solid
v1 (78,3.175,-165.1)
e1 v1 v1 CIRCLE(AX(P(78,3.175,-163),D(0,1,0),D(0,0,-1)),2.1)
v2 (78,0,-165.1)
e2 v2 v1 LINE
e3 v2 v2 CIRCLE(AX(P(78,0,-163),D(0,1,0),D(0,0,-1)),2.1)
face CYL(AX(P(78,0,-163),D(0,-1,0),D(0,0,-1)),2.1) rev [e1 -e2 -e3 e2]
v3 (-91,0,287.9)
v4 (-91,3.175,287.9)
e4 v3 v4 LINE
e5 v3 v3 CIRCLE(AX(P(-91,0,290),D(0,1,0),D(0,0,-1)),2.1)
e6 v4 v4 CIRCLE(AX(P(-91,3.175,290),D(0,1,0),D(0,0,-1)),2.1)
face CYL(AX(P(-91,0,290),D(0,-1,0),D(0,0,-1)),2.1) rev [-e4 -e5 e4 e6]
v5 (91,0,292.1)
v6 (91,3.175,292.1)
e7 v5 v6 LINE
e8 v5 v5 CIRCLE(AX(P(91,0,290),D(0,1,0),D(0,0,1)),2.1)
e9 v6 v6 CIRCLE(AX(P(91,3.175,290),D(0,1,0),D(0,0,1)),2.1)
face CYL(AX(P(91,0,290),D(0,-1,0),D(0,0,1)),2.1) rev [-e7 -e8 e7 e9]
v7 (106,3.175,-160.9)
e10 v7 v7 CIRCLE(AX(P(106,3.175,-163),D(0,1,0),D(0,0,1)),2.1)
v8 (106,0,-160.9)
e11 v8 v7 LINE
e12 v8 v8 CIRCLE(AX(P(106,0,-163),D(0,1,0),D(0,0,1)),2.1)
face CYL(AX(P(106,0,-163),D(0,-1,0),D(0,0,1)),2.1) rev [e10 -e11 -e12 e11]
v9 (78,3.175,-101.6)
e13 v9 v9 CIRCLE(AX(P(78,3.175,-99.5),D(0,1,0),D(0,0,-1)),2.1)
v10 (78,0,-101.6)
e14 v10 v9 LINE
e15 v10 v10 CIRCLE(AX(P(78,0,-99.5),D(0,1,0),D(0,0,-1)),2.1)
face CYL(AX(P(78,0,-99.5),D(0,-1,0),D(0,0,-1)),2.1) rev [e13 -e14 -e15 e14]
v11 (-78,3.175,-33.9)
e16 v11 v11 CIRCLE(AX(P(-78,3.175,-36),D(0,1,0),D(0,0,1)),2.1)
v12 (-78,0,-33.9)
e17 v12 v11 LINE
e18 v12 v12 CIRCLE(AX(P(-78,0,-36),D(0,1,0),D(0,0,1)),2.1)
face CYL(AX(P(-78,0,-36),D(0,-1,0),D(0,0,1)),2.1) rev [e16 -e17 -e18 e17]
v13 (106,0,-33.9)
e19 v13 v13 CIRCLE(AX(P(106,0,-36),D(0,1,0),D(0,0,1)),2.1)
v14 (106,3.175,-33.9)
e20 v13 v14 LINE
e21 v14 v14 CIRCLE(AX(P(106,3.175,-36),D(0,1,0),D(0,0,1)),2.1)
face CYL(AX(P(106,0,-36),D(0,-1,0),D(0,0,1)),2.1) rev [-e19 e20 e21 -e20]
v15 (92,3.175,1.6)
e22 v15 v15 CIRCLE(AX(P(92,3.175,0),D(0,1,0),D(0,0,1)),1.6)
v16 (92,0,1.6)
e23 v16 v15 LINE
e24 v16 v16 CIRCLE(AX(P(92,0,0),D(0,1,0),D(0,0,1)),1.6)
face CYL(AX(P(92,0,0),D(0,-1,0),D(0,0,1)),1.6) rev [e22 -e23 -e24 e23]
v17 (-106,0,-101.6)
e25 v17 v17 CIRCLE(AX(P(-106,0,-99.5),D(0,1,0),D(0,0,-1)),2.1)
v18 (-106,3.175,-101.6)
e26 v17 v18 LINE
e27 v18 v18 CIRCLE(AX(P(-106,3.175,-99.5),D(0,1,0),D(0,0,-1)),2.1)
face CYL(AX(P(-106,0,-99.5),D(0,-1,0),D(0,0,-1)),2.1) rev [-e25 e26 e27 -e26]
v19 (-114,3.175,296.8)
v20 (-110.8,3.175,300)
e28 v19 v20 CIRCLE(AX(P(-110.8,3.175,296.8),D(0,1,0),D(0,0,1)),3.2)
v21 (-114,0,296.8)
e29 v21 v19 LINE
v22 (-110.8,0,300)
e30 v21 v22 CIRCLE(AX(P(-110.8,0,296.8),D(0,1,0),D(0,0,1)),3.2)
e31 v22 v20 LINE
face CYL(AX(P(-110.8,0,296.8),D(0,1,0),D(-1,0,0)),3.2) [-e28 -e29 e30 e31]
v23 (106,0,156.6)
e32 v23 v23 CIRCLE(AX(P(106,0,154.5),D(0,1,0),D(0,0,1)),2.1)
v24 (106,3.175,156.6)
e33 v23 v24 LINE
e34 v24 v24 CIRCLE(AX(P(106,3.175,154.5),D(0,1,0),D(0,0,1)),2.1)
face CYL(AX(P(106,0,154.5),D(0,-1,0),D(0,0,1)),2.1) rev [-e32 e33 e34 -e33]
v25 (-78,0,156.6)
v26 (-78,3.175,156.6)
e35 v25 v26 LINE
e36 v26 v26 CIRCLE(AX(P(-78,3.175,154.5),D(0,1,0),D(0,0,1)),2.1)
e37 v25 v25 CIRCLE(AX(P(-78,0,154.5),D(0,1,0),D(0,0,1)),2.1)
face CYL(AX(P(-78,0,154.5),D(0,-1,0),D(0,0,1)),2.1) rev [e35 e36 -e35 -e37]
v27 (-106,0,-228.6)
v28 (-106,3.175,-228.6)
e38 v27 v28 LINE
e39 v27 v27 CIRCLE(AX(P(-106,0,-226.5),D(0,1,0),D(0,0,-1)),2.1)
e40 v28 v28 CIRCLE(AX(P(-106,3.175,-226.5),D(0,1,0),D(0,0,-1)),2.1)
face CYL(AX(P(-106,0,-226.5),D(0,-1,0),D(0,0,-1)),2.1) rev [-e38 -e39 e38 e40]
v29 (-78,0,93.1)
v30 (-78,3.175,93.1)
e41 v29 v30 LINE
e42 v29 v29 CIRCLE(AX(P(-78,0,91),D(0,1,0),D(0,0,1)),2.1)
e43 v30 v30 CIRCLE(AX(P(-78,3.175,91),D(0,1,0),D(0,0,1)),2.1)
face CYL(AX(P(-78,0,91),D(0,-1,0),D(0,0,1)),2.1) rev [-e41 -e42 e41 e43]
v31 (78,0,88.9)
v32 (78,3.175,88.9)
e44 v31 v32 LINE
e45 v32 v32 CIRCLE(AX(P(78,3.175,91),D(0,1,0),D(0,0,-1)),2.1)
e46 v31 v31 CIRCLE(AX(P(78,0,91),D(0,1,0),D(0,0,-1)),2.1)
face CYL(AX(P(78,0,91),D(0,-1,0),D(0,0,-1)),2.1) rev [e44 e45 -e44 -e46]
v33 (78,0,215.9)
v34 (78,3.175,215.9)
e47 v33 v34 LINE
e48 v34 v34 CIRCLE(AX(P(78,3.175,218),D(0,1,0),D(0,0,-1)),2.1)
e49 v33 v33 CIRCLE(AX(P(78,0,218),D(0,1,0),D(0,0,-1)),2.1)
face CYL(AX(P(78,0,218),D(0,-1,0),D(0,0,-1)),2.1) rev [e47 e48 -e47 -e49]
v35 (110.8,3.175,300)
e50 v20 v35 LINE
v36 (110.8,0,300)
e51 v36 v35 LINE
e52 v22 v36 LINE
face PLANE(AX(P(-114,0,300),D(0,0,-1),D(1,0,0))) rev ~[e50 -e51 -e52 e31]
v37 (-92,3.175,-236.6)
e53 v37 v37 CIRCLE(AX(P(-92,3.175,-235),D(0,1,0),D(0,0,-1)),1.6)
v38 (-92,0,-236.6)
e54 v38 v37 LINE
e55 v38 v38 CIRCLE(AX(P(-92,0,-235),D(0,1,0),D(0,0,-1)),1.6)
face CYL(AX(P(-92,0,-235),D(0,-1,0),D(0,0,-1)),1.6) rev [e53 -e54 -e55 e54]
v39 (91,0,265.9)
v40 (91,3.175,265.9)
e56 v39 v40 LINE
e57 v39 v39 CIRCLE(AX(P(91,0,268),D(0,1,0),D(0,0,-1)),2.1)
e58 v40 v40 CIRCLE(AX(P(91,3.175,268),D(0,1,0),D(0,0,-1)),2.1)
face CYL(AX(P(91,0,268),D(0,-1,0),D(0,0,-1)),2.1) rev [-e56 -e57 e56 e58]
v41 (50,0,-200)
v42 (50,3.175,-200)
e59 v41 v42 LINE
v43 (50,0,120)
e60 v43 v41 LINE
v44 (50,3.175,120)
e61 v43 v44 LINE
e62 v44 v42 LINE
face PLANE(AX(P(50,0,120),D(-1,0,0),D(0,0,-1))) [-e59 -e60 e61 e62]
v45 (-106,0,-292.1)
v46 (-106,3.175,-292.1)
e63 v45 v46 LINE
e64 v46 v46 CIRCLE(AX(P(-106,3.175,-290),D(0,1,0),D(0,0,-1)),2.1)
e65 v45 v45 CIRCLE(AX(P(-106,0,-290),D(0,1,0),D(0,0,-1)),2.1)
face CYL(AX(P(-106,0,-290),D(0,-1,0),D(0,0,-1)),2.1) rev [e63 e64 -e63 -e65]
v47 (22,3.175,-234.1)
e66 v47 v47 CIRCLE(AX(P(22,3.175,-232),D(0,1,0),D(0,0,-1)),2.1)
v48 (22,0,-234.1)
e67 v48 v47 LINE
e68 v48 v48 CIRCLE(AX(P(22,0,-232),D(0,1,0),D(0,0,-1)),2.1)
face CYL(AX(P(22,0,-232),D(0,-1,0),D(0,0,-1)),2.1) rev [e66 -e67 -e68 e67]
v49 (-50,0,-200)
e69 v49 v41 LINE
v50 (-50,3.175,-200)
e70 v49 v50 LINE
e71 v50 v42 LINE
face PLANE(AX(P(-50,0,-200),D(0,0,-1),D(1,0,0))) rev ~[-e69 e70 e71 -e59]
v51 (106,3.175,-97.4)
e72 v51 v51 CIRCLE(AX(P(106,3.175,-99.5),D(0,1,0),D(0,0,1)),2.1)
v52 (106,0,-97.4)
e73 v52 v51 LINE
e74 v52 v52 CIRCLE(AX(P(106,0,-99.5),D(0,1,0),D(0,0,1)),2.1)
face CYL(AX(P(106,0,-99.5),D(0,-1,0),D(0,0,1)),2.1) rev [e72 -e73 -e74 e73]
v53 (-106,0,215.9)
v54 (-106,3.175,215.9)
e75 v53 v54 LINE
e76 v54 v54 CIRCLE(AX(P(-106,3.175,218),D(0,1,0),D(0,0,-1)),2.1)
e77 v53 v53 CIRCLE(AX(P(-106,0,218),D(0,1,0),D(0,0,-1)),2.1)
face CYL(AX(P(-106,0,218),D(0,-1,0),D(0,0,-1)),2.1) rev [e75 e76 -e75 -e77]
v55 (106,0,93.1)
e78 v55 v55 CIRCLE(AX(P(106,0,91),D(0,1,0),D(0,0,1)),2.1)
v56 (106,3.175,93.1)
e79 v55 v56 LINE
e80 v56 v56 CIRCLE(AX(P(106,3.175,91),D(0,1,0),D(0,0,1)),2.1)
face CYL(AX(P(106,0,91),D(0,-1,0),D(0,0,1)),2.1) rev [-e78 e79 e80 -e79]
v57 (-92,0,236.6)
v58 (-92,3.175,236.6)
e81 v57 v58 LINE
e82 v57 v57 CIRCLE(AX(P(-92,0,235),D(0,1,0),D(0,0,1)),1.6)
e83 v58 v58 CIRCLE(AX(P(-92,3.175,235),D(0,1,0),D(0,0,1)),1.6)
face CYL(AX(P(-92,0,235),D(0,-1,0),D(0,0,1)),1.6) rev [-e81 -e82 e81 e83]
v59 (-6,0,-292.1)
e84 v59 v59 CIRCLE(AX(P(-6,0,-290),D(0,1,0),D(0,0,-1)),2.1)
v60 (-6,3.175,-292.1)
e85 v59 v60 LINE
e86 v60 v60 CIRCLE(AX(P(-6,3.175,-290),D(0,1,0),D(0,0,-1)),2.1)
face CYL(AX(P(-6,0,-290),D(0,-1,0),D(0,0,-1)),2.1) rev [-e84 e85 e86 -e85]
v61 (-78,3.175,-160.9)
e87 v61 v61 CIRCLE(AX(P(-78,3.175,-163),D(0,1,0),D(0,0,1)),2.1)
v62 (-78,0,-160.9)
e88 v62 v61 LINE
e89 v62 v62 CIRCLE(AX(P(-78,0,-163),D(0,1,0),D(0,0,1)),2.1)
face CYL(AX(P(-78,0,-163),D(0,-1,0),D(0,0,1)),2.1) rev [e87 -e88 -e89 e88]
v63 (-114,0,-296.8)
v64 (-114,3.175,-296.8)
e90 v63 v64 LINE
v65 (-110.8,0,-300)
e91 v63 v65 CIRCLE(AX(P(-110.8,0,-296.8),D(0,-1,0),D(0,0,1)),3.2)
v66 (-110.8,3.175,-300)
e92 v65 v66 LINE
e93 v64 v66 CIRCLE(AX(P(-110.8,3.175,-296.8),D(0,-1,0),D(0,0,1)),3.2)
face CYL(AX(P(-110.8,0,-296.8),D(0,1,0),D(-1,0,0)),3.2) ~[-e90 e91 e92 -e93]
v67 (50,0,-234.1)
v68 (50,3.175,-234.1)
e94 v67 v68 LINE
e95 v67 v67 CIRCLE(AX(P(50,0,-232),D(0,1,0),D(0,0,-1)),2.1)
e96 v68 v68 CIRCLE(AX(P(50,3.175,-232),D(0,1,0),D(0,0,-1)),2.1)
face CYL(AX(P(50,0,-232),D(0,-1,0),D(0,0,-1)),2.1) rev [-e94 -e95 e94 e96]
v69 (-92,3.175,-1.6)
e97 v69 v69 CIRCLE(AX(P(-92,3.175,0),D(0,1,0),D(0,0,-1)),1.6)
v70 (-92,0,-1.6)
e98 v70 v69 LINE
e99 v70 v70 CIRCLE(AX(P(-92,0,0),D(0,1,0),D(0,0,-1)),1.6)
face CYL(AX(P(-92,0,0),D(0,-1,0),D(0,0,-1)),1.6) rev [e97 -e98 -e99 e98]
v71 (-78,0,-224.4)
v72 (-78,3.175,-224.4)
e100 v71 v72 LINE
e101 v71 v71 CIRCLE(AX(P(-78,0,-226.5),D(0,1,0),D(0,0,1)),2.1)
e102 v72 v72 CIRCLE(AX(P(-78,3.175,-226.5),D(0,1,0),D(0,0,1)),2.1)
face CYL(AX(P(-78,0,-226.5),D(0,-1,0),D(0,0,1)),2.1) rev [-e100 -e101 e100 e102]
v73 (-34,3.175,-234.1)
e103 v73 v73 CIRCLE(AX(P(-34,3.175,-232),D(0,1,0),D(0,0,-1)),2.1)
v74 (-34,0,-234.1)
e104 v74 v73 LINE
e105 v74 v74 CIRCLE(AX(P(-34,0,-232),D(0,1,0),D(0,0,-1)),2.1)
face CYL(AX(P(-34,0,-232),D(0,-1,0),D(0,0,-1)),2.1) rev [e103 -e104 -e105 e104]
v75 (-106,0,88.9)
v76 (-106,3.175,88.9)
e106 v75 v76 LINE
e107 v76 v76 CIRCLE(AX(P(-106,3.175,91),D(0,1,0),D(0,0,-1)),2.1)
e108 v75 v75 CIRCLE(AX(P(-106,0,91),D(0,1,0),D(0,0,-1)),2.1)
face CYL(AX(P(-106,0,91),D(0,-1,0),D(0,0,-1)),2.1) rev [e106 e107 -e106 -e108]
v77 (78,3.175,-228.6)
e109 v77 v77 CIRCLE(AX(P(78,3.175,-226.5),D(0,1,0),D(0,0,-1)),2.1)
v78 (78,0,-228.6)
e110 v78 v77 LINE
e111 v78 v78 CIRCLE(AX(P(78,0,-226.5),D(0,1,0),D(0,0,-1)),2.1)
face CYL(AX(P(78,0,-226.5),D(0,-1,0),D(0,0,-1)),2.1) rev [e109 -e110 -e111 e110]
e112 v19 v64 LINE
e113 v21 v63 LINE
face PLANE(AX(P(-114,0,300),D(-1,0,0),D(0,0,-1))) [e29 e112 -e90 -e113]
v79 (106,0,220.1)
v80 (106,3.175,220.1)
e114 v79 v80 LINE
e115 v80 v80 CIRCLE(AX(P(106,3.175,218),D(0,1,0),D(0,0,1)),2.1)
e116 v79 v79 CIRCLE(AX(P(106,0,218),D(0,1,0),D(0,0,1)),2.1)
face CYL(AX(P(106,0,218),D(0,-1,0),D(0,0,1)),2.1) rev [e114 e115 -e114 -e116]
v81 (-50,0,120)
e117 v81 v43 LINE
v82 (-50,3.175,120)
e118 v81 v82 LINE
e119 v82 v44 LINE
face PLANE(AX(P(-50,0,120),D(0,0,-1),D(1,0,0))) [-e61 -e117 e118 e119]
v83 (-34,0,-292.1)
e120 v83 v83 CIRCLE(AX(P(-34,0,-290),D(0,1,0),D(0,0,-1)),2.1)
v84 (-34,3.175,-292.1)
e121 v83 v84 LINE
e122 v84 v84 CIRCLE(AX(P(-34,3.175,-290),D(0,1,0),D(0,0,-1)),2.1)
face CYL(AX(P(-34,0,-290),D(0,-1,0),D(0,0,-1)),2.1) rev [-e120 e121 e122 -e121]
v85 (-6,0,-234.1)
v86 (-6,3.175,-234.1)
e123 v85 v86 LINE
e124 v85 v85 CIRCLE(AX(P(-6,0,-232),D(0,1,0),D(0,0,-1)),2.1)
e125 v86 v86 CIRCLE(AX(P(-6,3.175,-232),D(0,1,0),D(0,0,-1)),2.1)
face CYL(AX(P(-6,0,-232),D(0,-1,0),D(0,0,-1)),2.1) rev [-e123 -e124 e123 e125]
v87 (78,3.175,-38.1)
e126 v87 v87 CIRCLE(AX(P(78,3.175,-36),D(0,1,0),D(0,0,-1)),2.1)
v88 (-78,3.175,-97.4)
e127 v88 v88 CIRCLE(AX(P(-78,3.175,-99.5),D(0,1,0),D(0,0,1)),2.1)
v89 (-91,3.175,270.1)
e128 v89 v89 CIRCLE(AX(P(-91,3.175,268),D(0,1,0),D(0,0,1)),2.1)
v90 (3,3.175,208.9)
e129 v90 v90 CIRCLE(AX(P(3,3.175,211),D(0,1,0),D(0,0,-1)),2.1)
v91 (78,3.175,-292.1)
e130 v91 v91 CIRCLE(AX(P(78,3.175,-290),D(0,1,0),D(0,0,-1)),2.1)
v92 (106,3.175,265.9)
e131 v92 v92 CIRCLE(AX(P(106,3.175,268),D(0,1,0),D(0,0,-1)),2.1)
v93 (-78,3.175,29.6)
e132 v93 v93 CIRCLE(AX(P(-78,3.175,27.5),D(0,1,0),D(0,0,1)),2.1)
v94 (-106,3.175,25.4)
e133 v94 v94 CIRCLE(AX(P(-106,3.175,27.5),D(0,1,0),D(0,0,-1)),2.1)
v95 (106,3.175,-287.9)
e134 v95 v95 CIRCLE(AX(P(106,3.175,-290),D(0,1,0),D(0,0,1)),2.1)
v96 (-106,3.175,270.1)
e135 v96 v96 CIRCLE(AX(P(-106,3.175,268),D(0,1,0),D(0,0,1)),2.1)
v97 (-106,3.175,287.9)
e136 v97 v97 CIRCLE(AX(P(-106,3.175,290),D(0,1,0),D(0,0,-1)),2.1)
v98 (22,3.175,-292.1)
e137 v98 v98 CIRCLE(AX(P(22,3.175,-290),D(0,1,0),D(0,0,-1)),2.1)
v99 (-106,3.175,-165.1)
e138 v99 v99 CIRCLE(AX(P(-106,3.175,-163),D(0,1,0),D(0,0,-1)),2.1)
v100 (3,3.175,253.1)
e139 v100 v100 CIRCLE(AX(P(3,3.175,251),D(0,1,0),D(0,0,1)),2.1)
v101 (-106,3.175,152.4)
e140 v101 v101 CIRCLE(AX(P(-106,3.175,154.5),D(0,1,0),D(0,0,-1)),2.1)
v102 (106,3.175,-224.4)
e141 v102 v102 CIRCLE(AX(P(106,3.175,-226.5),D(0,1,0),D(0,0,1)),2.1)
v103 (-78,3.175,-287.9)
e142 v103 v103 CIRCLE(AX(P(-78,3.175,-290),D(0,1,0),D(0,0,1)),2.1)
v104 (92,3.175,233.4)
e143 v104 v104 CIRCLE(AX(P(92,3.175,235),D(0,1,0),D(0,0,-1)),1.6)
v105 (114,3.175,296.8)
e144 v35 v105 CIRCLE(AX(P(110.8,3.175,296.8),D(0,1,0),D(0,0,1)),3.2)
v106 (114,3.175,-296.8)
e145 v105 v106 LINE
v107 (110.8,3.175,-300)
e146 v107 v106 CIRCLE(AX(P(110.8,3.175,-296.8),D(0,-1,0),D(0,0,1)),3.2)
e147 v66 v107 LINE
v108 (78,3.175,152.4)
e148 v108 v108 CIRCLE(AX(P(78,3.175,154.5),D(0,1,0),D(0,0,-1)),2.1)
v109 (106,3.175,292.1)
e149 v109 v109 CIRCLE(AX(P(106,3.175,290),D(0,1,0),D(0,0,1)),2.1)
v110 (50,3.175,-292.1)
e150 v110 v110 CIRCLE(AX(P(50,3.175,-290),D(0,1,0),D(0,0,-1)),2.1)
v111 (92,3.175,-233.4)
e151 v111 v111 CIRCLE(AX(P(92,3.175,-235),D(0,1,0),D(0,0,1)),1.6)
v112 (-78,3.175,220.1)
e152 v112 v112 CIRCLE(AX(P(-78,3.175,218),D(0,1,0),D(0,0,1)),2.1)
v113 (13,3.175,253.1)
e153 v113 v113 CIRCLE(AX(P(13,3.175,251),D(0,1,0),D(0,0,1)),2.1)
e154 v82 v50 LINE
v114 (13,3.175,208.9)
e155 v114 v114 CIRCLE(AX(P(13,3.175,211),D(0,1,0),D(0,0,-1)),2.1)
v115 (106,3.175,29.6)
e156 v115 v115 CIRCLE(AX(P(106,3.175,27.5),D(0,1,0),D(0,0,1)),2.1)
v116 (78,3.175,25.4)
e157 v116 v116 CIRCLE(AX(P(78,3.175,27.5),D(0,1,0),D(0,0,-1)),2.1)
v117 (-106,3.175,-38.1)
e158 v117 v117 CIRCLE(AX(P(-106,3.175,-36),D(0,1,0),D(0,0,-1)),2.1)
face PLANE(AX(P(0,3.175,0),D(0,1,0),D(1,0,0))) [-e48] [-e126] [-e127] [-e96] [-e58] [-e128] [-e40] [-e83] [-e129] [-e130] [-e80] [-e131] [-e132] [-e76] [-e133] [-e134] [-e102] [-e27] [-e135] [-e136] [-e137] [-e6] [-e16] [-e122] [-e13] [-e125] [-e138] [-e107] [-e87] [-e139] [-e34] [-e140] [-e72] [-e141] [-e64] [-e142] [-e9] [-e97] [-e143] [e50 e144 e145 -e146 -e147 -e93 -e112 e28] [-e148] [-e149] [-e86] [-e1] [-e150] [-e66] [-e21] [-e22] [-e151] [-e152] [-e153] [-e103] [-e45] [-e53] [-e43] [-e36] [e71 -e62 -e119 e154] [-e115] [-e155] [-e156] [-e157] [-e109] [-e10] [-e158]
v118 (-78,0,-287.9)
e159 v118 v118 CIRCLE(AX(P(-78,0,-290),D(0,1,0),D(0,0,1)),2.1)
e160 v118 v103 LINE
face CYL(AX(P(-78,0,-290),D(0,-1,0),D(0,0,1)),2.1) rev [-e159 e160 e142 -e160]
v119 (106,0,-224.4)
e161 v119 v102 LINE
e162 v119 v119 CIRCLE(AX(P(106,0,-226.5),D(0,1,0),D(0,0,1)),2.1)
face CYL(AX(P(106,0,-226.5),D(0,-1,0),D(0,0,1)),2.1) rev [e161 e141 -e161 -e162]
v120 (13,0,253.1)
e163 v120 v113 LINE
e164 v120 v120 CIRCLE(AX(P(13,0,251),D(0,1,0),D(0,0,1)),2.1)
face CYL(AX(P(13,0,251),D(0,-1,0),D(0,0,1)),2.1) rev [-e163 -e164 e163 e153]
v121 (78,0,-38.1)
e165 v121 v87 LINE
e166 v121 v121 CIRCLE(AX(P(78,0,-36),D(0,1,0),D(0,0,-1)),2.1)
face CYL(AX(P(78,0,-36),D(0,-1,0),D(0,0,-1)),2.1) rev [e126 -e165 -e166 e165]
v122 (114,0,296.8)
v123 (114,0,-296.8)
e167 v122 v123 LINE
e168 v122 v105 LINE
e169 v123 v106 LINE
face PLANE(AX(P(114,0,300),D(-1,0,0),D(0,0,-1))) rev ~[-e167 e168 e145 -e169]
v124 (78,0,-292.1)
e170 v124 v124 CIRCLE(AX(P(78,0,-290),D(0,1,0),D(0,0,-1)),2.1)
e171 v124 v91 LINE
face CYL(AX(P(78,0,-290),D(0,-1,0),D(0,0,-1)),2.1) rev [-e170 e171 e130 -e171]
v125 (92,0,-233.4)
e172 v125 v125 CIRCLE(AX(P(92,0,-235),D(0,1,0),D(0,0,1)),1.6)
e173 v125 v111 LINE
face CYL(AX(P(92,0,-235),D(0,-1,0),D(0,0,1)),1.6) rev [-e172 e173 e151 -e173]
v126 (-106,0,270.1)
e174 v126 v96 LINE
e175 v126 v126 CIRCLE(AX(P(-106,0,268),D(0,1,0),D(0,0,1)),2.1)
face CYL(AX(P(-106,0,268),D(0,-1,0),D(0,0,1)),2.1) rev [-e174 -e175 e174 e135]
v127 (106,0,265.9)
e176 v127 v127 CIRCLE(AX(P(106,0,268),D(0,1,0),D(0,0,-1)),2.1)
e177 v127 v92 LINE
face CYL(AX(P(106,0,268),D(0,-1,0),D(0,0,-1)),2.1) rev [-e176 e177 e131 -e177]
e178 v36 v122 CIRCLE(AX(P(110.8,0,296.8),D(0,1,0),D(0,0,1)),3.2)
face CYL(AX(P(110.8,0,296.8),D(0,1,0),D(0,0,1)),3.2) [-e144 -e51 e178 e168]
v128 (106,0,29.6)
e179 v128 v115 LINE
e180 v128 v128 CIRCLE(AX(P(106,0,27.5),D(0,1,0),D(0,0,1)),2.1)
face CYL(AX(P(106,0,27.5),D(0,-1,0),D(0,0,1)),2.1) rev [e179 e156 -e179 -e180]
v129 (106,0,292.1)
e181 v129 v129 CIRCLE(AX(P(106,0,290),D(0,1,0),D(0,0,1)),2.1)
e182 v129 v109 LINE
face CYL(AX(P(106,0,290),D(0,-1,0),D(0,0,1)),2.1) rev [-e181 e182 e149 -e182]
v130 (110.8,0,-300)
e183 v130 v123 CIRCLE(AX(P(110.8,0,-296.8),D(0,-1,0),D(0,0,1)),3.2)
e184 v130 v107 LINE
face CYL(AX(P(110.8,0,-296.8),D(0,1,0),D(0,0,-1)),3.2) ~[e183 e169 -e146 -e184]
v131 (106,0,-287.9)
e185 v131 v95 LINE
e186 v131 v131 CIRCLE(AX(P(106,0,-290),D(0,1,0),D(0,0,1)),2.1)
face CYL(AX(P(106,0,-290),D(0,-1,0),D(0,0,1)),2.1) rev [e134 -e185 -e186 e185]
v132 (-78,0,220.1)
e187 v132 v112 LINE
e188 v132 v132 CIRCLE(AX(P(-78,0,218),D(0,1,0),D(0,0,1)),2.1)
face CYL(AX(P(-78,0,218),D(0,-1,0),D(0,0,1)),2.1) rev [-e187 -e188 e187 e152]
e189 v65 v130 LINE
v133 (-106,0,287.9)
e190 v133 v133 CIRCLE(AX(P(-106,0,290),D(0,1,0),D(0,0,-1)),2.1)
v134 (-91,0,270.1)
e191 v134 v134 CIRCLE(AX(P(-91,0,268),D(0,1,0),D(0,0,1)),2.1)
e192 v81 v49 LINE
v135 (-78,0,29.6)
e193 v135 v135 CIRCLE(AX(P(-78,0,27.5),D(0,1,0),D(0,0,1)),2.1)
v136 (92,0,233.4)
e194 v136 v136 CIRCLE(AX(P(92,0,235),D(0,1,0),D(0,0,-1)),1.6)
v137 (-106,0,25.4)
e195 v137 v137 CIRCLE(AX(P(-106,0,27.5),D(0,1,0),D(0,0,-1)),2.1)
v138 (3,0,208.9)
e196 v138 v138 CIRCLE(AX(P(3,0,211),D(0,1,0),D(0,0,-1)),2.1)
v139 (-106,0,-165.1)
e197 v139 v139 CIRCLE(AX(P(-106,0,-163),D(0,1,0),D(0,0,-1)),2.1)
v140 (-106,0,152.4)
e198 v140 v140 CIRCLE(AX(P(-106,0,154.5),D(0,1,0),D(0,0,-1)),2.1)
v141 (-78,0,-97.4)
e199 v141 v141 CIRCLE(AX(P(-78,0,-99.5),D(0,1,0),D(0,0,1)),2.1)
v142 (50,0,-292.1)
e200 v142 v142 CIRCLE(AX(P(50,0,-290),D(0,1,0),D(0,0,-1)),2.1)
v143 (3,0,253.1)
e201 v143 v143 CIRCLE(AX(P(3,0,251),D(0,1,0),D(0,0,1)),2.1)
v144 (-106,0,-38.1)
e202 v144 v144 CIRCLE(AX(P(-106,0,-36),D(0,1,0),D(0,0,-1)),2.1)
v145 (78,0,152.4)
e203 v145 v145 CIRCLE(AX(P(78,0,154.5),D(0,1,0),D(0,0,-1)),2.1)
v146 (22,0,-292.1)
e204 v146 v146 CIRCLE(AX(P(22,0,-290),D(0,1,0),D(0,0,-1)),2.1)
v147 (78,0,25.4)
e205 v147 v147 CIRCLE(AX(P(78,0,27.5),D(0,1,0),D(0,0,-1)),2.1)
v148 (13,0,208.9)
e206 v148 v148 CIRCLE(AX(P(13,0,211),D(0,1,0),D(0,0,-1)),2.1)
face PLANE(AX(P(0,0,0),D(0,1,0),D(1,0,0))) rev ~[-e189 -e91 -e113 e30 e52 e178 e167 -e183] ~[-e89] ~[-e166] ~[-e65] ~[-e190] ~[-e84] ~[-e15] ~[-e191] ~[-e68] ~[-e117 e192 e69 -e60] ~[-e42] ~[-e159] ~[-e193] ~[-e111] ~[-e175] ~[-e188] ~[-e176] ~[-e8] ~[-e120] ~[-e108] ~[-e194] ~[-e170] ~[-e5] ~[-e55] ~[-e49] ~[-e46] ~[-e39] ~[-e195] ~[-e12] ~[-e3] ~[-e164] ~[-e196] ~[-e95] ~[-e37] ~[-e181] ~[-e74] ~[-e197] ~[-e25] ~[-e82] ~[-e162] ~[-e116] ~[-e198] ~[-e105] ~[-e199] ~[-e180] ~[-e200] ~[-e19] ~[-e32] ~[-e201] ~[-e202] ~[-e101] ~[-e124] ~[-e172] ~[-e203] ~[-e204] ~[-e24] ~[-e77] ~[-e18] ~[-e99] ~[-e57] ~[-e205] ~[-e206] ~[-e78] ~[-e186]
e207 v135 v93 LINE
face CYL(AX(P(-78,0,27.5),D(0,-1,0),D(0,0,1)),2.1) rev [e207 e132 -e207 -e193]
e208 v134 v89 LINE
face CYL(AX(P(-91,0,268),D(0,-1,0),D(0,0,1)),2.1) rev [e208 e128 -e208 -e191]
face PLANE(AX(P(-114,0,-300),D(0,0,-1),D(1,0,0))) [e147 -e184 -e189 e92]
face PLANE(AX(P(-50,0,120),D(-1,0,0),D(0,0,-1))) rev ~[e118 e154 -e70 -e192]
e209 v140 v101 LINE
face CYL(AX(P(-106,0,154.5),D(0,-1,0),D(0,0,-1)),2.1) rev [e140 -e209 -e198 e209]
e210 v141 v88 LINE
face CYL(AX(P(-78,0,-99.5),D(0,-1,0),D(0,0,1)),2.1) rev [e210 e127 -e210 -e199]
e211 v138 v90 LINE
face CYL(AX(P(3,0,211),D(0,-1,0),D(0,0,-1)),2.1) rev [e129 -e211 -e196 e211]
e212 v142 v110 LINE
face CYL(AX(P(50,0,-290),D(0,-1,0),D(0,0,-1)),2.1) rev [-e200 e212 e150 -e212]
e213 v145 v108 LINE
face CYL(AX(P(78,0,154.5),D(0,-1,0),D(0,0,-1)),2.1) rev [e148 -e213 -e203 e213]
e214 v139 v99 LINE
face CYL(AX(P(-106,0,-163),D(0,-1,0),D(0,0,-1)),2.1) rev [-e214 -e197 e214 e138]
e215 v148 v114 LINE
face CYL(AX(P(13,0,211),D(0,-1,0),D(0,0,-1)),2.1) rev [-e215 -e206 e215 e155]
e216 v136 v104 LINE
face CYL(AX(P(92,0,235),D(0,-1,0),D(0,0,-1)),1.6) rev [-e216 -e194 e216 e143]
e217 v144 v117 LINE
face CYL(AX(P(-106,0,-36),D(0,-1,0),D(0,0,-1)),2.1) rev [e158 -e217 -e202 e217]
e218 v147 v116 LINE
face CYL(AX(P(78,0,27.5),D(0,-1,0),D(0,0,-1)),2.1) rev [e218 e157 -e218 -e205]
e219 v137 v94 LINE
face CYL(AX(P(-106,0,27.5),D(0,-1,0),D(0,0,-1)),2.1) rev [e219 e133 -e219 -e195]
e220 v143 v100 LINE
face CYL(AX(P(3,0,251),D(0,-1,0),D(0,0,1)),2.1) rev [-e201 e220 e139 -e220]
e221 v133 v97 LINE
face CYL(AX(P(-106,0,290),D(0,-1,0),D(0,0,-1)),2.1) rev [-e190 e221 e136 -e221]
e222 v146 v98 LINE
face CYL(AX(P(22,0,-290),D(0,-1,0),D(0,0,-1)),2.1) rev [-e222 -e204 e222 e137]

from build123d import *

# Parameters (mm, degrees)
SKETCH1_W           = 228
SKETCH1_H           = 600
SKETCH1_R           = 2.1
SKETCH1_R_2         = 1.6
SKETCH1_W_2         = 100
SKETCH1_H_2         = 320
BOSS_EXTRUDE1_DEPTH = 3.175
FILLET1_R           = 3.2


with BuildPart() as part:
    # Sketch1 → Boss-Extrude1 (new body)
    with BuildSketch(Plane(origin=(0, 0, 0), x_dir=(1, 0, 0), z_dir=(0, 1, 0))):
        Rectangle(SKETCH1_W, SKETCH1_H)
        with Locations(Location((106, 290, 0), (0, 0, 270))):
            Circle(SKETCH1_R, mode=Mode.SUBTRACT)
        with Locations(Location((106, -290, 0), (0, 0, 270))):
            Circle(SKETCH1_R, mode=Mode.SUBTRACT)
        with Locations(Location((78, 290, 0), (0, 0, 90))):
            Circle(SKETCH1_R, mode=Mode.SUBTRACT)
        with Locations(Location((92, 0, 0), (0, 0, 270))):
            Circle(SKETCH1_R_2, mode=Mode.SUBTRACT)
        with Locations(Location((92, 235, 0), (0, 0, 270))):
            Circle(SKETCH1_R_2, mode=Mode.SUBTRACT)
        with Locations(Location((92, -235, 0), (0, 0, 90))):
            Circle(SKETCH1_R_2, mode=Mode.SUBTRACT)
        with Locations(Location((-92, -235, 0), (0, 0, 270))):
            Circle(SKETCH1_R_2, mode=Mode.SUBTRACT)
        with Locations(Location((-106, -290, 0), (0, 0, 90))):
            Circle(SKETCH1_R, mode=Mode.SUBTRACT)
        with Locations(Location((50, 290, 0), (0, 0, 90))):
            Circle(SKETCH1_R, mode=Mode.SUBTRACT)
        with Locations(Location((22, 290, 0), (0, 0, 90))):
            Circle(SKETCH1_R, mode=Mode.SUBTRACT)
        with Locations(Location((-6, 290, 0), (0, 0, 90))):
            Circle(SKETCH1_R, mode=Mode.SUBTRACT)
        with Locations(Location((-34, 290, 0), (0, 0, 90))):
            Circle(SKETCH1_R, mode=Mode.SUBTRACT)
        with Locations(Location((50, 232, 0), (0, 0, 90))):
            Circle(SKETCH1_R, mode=Mode.SUBTRACT)
        with Locations(Location((22, 232, 0), (0, 0, 90))):
            Circle(SKETCH1_R, mode=Mode.SUBTRACT)
        with Locations(Location((-6, 232, 0), (0, 0, 90))):
            Circle(SKETCH1_R, mode=Mode.SUBTRACT)
        with Locations(Location((-34, 232, 0), (0, 0, 90))):
            Circle(SKETCH1_R, mode=Mode.SUBTRACT)
        with Locations(Location((91, -290, 0), (0, 0, 270))):
            Circle(SKETCH1_R, mode=Mode.SUBTRACT)
        with Locations(Location((91, -268, 0), (0, 0, 90))):
            Circle(SKETCH1_R, mode=Mode.SUBTRACT)
        with Locations(Location((106, -268, 0), (0, 0, 90))):
            Circle(SKETCH1_R, mode=Mode.SUBTRACT)
        with Locations(Location((-91, -290, 0), (0, 0, 90))):
            Circle(SKETCH1_R, mode=Mode.SUBTRACT)
        with Locations(Location((-106, -268, 0), (0, 0, 270))):
            Circle(SKETCH1_R, mode=Mode.SUBTRACT)
        with Locations(Location((-91, -268, 0), (0, 0, 270))):
            Circle(SKETCH1_R, mode=Mode.SUBTRACT)
        with Locations(Location((13, -251, 0), (0, 0, 270))):
            Circle(SKETCH1_R, mode=Mode.SUBTRACT)
        with Locations(Location((3, -251, 0), (0, 0, 270))):
            Circle(SKETCH1_R, mode=Mode.SUBTRACT)
        with Locations(Location((13, -211, 0), (0, 0, 90))):
            Circle(SKETCH1_R, mode=Mode.SUBTRACT)
        with Locations(Location((3, -211, 0), (0, 0, 90))):
            Circle(SKETCH1_R, mode=Mode.SUBTRACT)
        with Locations(Location((106, 226.5, 0), (0, 0, 270))):
            Circle(SKETCH1_R, mode=Mode.SUBTRACT)
        with Locations(Location((106, 163, 0), (0, 0, 270))):
            Circle(SKETCH1_R, mode=Mode.SUBTRACT)
        with Locations(Location((106, 99.5, 0), (0, 0, 270))):
            Circle(SKETCH1_R, mode=Mode.SUBTRACT)
        with Locations(Location((106, 36, 0), (0, 0, 270))):
            Circle(SKETCH1_R, mode=Mode.SUBTRACT)
        with Locations(Location((106, -27.5, 0), (0, 0, 270))):
            Circle(SKETCH1_R, mode=Mode.SUBTRACT)
        with Locations(Location((106, -91, 0), (0, 0, 270))):
            Circle(SKETCH1_R, mode=Mode.SUBTRACT)
        with Locations(Location((106, -154.5, 0), (0, 0, 270))):
            Circle(SKETCH1_R, mode=Mode.SUBTRACT)
        with Locations(Location((106, -218, 0), (0, 0, 270))):
            Circle(SKETCH1_R, mode=Mode.SUBTRACT)
        with Locations(Location((78, 226.5, 0), (0, 0, 90))):
            Circle(SKETCH1_R, mode=Mode.SUBTRACT)
        with Locations(Location((78, 163, 0), (0, 0, 90))):
            Circle(SKETCH1_R, mode=Mode.SUBTRACT)
        with Locations(Location((78, 99.5, 0), (0, 0, 90))):
            Circle(SKETCH1_R, mode=Mode.SUBTRACT)
        with Locations(Location((78, 36, 0), (0, 0, 90))):
            Circle(SKETCH1_R, mode=Mode.SUBTRACT)
        with Locations(Location((78, -27.5, 0), (0, 0, 90))):
            Circle(SKETCH1_R, mode=Mode.SUBTRACT)
        with Locations(Location((78, -91, 0), (0, 0, 90))):
            Circle(SKETCH1_R, mode=Mode.SUBTRACT)
        with Locations(Location((78, -154.5, 0), (0, 0, 90))):
            Circle(SKETCH1_R, mode=Mode.SUBTRACT)
        with Locations(Location((78, -218, 0), (0, 0, 90))):
            Circle(SKETCH1_R, mode=Mode.SUBTRACT)
        with Locations(Location((-78, -218, 0), (0, 0, 270))):
            Circle(SKETCH1_R, mode=Mode.SUBTRACT)
        with Locations(Location((-78, -154.5, 0), (0, 0, 270))):
            Circle(SKETCH1_R, mode=Mode.SUBTRACT)
        with Locations(Location((-106, -218, 0), (0, 0, 90))):
            Circle(SKETCH1_R, mode=Mode.SUBTRACT)
        with Locations(Location((-106, -154.5, 0), (0, 0, 90))):
            Circle(SKETCH1_R, mode=Mode.SUBTRACT)
        with Locations(Location((-78, -91, 0), (0, 0, 270))):
            Circle(SKETCH1_R, mode=Mode.SUBTRACT)
        with Locations(Location((-78, -27.5, 0), (0, 0, 270))):
            Circle(SKETCH1_R, mode=Mode.SUBTRACT)
        with Locations(Location((-106, -91, 0), (0, 0, 90))):
            Circle(SKETCH1_R, mode=Mode.SUBTRACT)
        with Locations(Location((-106, -27.5, 0), (0, 0, 90))):
            Circle(SKETCH1_R, mode=Mode.SUBTRACT)
        with Locations(Location((-78, 36, 0), (0, 0, 270))):
            Circle(SKETCH1_R, mode=Mode.SUBTRACT)
        with Locations(Location((-78, 99.5, 0), (0, 0, 270))):
            Circle(SKETCH1_R, mode=Mode.SUBTRACT)
        with Locations(Location((-106, 36, 0), (0, 0, 90))):
            Circle(SKETCH1_R, mode=Mode.SUBTRACT)
        with Locations(Location((-106, 99.5, 0), (0, 0, 90))):
            Circle(SKETCH1_R, mode=Mode.SUBTRACT)
        with Locations(Location((-78, 163, 0), (0, 0, 270))):
            Circle(SKETCH1_R, mode=Mode.SUBTRACT)
        with Locations(Location((-106, 163, 0), (0, 0, 90))):
            Circle(SKETCH1_R, mode=Mode.SUBTRACT)
        with Locations(Location((-78, 226.5, 0), (0, 0, 270))):
            Circle(SKETCH1_R, mode=Mode.SUBTRACT)
        with Locations(Location((-106, 226.5, 0), (0, 0, 90))):
            Circle(SKETCH1_R, mode=Mode.SUBTRACT)
        with Locations(Location((-92, 235, 0), (0, 0, 90))):
            Circle(SKETCH1_R_2, mode=Mode.SUBTRACT)
        with Locations(Location((-106, 290, 0), (0, 0, 90))):
            Circle(SKETCH1_R, mode=Mode.SUBTRACT)
        with Locations(Location((-78, 290, 0), (0, 0, 270))):
            Circle(SKETCH1_R, mode=Mode.SUBTRACT)
        with Locations(Location((-92, 0, 0), (0, 0, 90))):
            Circle(SKETCH1_R_2, mode=Mode.SUBTRACT)
        with Locations((0, 40)):
            Rectangle(SKETCH1_W_2, SKETCH1_H_2, mode=Mode.SUBTRACT)
    extrude(amount=BOSS_EXTRUDE1_DEPTH)

    # Fillet1
    fillet1_edges = [part.edges().sort_by_distance(p)[0] for p in [
        (114, 1.5875, 300),
        (-114, 1.5875, 300),
        (-114, 1.5875, -300),
        (114, 1.5875, -300),
    ]]
    fillet(fillet1_edges, radius=FILLET1_R)


solid = part.part
